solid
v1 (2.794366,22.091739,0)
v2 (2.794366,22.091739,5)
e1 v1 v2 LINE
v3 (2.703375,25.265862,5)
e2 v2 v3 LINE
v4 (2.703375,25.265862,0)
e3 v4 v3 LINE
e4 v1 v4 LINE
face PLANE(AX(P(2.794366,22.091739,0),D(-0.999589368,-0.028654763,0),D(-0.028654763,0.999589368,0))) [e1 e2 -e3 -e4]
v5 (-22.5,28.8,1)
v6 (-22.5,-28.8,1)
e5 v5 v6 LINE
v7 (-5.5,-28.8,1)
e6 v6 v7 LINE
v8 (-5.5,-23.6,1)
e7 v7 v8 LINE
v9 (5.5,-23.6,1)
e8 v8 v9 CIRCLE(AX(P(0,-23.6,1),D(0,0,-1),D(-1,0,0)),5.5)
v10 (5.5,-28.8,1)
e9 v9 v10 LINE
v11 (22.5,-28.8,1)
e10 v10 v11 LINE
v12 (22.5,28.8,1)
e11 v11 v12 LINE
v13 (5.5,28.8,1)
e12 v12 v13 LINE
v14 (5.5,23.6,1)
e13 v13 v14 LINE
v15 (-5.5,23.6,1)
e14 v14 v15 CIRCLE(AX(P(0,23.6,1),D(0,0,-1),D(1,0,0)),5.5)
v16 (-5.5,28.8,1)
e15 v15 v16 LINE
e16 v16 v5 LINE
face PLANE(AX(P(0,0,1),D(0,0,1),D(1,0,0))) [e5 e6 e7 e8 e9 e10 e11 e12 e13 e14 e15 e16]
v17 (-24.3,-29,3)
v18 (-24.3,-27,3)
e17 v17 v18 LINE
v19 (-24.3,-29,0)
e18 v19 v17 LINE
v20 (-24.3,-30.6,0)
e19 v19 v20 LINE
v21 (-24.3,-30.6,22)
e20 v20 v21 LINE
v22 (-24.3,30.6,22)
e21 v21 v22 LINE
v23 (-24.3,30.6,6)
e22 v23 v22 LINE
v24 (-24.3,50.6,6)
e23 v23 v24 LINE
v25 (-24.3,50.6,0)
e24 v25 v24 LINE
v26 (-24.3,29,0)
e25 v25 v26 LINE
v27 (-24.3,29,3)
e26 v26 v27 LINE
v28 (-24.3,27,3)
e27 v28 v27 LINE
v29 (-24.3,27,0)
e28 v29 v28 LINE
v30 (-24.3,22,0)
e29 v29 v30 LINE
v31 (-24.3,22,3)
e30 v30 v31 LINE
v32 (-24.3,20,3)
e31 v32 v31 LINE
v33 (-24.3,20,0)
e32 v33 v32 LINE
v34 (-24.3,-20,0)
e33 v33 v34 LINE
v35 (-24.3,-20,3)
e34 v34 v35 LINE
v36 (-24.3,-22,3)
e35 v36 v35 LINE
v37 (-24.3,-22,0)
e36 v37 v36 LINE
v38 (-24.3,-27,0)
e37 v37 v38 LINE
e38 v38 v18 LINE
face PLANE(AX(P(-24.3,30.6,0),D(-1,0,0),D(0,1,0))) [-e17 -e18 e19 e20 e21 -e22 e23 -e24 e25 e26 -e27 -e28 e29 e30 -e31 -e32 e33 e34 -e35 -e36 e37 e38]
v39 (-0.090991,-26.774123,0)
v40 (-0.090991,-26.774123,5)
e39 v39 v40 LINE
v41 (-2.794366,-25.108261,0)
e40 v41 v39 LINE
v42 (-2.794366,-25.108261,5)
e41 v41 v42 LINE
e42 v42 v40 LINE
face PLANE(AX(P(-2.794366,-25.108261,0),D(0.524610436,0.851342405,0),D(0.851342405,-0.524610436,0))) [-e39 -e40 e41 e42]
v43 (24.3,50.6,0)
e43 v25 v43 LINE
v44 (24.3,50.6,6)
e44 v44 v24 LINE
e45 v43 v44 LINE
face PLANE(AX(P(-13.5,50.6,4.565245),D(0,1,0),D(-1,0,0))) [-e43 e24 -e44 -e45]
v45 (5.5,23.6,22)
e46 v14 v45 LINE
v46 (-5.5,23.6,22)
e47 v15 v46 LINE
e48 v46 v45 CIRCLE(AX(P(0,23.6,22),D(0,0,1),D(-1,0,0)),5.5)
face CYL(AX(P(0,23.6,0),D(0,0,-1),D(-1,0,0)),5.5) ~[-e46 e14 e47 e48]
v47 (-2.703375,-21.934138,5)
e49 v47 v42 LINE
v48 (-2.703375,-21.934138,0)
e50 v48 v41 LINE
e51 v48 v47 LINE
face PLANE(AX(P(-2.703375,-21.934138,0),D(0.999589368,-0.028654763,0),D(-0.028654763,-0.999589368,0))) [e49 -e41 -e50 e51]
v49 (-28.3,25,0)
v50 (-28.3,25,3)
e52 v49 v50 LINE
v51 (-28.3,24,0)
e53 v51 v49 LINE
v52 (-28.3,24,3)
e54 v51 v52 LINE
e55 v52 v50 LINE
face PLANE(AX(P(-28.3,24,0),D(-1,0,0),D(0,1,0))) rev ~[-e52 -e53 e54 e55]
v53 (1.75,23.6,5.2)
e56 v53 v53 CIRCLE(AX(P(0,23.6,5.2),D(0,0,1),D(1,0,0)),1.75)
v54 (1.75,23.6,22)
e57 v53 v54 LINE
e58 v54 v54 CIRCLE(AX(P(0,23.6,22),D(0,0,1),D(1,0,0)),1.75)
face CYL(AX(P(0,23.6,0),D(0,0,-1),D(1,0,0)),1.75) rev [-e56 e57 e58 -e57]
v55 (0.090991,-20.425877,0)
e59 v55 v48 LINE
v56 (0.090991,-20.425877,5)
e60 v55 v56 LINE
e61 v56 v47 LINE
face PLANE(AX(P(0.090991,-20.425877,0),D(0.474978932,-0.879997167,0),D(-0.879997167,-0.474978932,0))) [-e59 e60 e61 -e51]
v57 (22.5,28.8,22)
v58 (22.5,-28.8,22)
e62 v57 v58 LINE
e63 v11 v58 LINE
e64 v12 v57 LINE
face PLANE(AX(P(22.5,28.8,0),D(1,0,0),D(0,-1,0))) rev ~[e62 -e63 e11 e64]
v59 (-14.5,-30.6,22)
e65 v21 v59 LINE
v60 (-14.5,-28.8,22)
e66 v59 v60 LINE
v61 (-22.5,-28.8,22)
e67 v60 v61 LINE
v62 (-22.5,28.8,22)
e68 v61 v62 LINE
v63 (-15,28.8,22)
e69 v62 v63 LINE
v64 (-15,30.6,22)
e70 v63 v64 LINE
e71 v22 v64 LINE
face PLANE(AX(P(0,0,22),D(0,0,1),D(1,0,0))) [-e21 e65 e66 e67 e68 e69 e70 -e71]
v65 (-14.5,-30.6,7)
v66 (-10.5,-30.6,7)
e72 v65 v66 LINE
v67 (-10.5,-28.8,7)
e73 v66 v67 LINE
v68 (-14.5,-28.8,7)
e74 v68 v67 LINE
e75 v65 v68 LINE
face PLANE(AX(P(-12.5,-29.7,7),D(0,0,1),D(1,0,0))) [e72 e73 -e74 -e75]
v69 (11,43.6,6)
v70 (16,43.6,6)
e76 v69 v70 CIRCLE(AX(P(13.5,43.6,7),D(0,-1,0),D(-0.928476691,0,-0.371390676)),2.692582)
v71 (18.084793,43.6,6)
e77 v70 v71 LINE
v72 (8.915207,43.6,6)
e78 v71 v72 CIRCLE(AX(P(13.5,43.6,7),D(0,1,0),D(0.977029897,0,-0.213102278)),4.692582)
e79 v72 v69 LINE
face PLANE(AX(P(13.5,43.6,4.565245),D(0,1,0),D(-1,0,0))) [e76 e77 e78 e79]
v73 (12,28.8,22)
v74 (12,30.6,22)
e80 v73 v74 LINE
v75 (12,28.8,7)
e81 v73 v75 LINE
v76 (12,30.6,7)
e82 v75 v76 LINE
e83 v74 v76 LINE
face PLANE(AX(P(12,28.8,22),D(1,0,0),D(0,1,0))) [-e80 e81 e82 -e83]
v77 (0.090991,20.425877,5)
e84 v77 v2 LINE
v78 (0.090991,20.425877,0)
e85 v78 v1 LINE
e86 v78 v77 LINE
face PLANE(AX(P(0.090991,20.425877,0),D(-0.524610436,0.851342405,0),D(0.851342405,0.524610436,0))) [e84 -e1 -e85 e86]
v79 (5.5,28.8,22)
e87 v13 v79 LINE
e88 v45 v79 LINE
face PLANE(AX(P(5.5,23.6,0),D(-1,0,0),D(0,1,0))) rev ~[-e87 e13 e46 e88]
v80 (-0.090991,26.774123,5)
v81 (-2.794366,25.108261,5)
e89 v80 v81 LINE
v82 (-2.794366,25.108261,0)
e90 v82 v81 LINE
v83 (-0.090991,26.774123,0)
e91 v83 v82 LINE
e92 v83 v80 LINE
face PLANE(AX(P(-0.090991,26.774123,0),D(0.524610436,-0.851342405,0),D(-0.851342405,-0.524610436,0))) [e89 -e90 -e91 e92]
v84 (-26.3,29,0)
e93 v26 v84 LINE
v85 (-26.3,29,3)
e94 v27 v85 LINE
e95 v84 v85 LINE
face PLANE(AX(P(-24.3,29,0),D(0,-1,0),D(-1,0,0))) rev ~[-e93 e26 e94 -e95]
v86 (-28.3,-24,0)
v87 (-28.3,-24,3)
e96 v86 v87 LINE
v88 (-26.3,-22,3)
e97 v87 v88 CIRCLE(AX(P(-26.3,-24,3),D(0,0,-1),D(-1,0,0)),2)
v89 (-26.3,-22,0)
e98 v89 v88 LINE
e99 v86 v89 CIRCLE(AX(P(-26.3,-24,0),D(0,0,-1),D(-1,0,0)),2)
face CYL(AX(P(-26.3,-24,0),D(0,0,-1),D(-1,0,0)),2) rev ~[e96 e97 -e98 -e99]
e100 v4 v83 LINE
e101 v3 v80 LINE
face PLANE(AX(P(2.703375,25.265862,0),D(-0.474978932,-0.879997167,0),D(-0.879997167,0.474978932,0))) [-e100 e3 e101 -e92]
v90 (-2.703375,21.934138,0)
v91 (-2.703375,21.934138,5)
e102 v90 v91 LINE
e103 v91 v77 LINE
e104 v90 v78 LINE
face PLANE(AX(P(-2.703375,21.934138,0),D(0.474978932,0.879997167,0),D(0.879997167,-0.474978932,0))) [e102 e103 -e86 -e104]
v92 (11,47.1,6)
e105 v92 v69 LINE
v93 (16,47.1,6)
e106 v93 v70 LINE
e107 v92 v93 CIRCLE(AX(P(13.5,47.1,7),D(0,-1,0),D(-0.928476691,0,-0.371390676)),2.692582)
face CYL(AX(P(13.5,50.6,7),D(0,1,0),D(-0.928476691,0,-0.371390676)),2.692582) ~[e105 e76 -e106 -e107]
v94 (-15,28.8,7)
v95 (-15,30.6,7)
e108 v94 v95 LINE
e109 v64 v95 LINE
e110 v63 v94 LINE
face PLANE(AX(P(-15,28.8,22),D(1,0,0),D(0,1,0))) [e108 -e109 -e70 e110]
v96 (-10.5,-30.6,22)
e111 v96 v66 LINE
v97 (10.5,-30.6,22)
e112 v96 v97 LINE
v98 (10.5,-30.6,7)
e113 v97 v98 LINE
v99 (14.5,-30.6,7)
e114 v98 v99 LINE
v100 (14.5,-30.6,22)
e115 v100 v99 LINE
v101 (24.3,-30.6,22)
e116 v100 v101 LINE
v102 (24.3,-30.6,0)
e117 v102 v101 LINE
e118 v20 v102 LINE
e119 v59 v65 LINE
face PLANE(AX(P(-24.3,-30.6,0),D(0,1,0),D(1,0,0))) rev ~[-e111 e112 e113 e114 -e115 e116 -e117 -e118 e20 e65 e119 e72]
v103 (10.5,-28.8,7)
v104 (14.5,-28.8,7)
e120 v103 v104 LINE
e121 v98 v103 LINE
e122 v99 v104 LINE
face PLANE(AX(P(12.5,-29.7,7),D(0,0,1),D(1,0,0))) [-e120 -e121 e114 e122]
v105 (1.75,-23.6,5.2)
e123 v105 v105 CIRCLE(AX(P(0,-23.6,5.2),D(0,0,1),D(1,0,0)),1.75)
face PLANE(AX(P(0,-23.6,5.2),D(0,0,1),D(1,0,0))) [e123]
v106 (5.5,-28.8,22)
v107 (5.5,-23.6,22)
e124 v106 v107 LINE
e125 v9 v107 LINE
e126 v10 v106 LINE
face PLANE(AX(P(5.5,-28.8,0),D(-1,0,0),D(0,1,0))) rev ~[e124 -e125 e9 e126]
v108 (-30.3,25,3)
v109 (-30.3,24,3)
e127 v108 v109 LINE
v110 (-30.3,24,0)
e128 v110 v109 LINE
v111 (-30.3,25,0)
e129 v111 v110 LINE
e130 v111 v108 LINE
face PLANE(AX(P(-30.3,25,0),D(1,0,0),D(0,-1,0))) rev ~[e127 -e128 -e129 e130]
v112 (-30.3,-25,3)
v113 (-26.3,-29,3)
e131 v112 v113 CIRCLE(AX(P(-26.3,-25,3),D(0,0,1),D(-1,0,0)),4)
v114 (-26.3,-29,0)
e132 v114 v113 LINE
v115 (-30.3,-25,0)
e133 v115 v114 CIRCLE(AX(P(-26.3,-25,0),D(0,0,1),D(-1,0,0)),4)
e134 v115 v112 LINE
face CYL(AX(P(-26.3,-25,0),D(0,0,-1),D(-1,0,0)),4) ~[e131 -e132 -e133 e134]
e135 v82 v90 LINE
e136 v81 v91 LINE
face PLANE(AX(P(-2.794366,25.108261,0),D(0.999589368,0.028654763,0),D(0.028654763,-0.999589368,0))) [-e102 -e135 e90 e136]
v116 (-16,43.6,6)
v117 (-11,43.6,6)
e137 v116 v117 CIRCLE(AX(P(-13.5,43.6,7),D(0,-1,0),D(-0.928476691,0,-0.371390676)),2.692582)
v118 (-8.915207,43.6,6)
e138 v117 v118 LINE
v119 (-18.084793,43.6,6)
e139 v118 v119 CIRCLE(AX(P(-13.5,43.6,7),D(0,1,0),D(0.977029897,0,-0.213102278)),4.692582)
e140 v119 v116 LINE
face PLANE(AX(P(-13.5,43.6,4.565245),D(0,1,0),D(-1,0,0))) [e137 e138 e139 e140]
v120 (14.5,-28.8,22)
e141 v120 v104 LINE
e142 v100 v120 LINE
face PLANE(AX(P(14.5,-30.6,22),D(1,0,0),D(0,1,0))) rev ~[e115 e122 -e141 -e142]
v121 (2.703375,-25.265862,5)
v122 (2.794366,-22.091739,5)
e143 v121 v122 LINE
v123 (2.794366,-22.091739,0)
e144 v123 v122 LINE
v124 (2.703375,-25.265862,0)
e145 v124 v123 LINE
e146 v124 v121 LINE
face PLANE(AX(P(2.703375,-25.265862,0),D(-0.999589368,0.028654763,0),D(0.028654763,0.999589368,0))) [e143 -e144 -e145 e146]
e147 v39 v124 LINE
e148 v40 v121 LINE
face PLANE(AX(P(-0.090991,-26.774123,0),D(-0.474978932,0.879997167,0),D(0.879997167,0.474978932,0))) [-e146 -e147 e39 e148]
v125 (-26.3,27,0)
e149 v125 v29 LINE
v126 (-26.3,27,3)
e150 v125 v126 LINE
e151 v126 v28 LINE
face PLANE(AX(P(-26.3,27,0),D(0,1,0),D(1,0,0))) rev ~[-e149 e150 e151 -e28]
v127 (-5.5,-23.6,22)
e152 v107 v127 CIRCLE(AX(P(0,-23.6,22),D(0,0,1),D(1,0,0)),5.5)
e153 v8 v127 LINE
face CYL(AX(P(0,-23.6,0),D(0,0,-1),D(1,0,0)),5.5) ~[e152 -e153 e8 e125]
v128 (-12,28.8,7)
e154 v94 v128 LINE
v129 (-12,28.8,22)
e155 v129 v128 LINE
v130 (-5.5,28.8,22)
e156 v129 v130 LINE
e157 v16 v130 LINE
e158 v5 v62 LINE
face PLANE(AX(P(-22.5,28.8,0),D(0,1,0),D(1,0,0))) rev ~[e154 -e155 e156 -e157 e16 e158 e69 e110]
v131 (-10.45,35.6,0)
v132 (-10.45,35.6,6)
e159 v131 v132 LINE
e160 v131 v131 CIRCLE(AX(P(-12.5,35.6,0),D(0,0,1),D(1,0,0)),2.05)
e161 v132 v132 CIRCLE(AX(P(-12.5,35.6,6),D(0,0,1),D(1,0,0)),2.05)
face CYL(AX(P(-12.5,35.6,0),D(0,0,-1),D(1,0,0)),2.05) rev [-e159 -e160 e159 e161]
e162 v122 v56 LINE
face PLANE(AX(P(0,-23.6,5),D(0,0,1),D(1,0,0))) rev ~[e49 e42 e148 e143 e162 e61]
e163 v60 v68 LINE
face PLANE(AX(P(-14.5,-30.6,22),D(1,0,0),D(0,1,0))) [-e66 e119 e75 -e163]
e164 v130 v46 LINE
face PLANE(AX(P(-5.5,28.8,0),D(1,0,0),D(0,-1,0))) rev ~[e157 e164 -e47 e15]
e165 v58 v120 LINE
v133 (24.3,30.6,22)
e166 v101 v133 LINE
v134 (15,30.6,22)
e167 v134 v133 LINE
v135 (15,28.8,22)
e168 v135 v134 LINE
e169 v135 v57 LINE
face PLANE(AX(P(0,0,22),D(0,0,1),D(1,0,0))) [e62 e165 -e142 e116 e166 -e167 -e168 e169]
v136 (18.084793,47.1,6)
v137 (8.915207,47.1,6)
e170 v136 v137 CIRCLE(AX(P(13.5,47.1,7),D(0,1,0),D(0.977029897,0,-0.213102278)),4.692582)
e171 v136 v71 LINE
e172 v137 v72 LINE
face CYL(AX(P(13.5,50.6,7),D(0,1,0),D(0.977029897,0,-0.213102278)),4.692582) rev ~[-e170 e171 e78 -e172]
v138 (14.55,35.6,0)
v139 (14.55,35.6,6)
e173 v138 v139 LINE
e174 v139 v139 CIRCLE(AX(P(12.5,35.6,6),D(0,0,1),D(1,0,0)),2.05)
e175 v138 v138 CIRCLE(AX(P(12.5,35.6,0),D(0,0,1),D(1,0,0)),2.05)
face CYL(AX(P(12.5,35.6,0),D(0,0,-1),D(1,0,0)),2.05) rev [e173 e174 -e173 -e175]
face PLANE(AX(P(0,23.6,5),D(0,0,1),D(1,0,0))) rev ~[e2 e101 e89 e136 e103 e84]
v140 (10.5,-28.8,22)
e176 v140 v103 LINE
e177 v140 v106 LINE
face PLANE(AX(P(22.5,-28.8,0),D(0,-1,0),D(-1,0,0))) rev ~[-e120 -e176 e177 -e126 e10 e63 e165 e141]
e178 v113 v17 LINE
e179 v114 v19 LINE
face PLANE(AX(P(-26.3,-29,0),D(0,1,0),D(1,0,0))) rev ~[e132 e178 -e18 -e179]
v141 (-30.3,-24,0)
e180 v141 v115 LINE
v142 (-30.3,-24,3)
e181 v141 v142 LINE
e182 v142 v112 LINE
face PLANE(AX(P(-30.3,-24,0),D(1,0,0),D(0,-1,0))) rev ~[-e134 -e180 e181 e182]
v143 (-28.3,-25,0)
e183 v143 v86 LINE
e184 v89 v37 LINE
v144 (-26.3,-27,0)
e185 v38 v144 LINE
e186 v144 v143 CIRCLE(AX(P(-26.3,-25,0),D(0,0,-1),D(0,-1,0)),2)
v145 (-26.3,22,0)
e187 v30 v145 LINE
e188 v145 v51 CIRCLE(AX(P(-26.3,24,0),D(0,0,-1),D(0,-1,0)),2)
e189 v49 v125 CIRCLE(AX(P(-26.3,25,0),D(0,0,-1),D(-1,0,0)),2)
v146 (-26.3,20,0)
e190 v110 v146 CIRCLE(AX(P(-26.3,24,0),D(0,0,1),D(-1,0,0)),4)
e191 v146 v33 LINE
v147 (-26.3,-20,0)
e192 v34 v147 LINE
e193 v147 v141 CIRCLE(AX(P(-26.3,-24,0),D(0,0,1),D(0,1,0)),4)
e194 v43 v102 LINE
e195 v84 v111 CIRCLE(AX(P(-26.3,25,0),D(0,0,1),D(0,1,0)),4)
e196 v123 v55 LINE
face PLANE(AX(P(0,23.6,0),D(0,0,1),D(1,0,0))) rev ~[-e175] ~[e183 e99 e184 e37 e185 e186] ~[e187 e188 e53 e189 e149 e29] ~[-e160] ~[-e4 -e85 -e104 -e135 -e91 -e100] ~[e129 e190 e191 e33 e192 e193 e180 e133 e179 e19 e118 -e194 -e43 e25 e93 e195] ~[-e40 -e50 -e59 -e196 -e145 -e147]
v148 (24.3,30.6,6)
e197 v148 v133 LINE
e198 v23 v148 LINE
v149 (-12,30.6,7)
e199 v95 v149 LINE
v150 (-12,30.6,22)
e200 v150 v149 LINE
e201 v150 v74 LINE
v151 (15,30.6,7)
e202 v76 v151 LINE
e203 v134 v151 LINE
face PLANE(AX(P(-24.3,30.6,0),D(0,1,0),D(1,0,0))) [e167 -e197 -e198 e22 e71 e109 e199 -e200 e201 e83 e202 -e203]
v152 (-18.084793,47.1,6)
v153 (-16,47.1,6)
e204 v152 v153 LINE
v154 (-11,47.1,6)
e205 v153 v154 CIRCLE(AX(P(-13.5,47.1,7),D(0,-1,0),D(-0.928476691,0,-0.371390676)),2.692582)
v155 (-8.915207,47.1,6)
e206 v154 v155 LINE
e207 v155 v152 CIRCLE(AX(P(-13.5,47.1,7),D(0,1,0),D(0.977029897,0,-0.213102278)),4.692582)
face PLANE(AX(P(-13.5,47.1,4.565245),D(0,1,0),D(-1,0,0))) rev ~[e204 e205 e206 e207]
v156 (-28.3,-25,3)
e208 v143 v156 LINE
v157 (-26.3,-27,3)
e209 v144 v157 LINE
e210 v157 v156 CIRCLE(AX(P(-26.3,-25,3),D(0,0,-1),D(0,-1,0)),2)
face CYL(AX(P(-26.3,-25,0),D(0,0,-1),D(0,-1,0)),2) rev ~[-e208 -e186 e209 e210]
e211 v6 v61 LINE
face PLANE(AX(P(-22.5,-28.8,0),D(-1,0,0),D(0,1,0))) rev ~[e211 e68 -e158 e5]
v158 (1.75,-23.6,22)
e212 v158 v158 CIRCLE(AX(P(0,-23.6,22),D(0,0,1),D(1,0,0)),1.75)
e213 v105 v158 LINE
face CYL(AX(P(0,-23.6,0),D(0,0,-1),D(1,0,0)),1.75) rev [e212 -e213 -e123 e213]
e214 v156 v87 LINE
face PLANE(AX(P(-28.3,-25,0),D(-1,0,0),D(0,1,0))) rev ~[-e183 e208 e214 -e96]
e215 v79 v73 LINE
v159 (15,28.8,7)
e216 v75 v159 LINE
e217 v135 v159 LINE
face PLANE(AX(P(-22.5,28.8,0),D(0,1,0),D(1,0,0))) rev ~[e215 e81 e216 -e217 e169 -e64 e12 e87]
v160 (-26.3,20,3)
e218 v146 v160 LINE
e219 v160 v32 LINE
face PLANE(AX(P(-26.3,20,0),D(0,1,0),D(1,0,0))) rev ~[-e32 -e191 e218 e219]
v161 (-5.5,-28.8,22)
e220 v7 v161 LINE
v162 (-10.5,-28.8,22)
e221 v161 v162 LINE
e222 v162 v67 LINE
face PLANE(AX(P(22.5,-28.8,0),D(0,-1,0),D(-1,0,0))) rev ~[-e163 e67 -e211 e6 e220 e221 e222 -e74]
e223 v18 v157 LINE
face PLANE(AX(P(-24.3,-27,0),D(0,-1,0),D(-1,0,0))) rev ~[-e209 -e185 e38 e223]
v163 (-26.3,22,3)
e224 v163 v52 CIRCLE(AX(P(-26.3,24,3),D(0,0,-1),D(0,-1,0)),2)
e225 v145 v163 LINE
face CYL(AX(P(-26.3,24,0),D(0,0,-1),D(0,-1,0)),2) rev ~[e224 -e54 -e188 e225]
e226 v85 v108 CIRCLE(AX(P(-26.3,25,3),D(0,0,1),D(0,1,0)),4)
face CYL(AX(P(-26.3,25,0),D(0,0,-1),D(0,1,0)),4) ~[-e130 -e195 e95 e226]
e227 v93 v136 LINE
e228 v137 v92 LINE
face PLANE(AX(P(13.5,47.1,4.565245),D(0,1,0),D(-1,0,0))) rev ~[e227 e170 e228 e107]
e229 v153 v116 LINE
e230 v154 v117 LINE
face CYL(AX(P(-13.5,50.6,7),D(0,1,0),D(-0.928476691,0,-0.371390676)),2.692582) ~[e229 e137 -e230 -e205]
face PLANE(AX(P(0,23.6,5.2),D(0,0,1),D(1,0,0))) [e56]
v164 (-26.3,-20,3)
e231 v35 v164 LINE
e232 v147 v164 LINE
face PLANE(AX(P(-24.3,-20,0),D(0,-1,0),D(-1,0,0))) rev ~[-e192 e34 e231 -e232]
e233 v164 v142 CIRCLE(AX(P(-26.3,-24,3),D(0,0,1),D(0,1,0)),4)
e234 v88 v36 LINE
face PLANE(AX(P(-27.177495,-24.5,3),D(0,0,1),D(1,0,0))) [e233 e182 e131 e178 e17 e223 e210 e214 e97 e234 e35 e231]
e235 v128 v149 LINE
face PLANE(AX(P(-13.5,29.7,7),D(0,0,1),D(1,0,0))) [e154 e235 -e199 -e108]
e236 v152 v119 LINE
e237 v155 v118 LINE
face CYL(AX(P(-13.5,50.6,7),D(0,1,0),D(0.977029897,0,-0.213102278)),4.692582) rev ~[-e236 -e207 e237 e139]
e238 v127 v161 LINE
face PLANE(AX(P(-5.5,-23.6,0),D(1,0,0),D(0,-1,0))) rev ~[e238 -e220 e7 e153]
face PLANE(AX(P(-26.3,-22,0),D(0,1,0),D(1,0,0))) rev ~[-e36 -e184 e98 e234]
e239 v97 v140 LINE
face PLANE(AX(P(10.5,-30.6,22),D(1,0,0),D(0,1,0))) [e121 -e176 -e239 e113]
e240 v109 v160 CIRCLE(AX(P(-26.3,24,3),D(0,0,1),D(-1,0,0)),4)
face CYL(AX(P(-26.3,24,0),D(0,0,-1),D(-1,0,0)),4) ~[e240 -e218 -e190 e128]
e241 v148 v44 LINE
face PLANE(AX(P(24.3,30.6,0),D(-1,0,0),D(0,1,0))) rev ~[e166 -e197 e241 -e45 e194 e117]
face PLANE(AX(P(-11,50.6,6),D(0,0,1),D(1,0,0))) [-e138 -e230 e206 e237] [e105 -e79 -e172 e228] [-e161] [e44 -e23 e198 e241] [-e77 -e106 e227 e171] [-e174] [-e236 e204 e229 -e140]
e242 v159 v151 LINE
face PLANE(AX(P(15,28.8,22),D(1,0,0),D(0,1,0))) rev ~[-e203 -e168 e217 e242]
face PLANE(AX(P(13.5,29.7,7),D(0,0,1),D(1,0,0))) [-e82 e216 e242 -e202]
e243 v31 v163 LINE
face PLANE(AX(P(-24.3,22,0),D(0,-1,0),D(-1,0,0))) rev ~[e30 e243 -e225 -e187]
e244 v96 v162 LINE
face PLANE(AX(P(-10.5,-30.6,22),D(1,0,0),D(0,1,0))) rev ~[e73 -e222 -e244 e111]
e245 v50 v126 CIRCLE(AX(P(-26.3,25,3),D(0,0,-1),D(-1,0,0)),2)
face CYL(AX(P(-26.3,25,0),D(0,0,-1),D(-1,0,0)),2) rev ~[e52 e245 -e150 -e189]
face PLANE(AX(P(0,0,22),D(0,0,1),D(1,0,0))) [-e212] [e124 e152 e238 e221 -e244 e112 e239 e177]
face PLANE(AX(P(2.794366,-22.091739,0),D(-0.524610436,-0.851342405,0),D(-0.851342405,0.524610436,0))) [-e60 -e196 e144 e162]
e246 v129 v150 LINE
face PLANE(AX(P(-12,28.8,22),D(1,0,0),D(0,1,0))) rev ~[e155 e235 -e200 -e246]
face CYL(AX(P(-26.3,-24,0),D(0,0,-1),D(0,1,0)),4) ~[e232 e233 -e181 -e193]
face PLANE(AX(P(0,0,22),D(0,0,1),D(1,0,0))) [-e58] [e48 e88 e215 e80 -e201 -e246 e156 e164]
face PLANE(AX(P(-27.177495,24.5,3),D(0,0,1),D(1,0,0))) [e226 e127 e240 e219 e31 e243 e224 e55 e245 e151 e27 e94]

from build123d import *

# Parameters (mm, degrees)
F0_W      = 48.6
F0_H      = 61.2
F1_DEPTH  = 22
F0_R      = 1.75
F2_DEPTH  = 22
F3_DEPTH  = 1
F0_H_2    = 20
F0_R_2    = 2.05
F4_DEPTH  = 6
F5_W      = 3
F5_H      = 1.8
F5_W_2    = 4
F6_DEPTH  = 15
F8_DEPTH  = 7
F9_DEPTH  = 3.5
F11_DEPTH = 5.2
F12_DEPTH = 5
F14_DEPTH = 3


with BuildPart() as f1:
    # F0 (on Top) → F1 (new body)
    with BuildSketch(Plane.XY):
        Rectangle(F0_W, F0_H)
        Polygon((22.5, 28.8), (22.5, -28.8), (5.5, -28.8), (-5.5, -28.8), (-22.5, -28.8), (-22.5, 28.8), (-5.5, 28.8), (5.5, 28.8), align=None, mode=Mode.SUBTRACT)
    extrude(amount=F1_DEPTH)

    # F0 (on Top) → F2 (join)
    with BuildSketch(Plane.XY):
        with BuildLine():
            Line((-5.5, -28.8), (5.5, -28.8))
            Line((5.5, -28.8), (5.5, -23.6))
            ThreePointArc((5.5, -23.6), (0, -18.1), (-5.5, -23.6))
            Line((-5.5, -23.6), (-5.5, -28.8))
        make_face()
        with Locations((0, -23.6)):
            Circle(F0_R, mode=Mode.SUBTRACT)
        with BuildLine():
            Line((5.5, 23.6), (5.5, 28.8))
            Line((5.5, 28.8), (-5.5, 28.8))
            Line((-5.5, 28.8), (-5.5, 23.6))
            ThreePointArc((-5.5, 23.6), (0, 18.1), (5.5, 23.6))
        make_face()
        with Locations((0, 23.6)):
            Circle(F0_R, mode=Mode.SUBTRACT)
    extrude(amount=F2_DEPTH)

    # F0 (on Top) → F3 (join)
    with BuildSketch(Plane.XY):
        with BuildLine():
            Line((5.5, -28.8), (22.5, -28.8))
            Line((22.5, -28.8), (22.5, 28.8))
            Line((22.5, 28.8), (5.5, 28.8))
            Line((5.5, 28.8), (5.5, 23.6))
            ThreePointArc((5.5, 23.6), (0, 18.1), (-5.5, 23.6))
            Line((-5.5, 23.6), (-5.5, 28.8))
            Line((-5.5, 28.8), (-22.5, 28.8))
            Line((-22.5, 28.8), (-22.5, -28.8))
            Line((-22.5, -28.8), (-5.5, -28.8))
            Line((-5.5, -28.8), (-5.5, -23.6))
            ThreePointArc((-5.5, -23.6), (0, -18.1), (5.5, -23.6))
            Line((5.5, -23.6), (5.5, -28.8))
        make_face()
    extrude(amount=F3_DEPTH)

    # F0 (on Top) → F4 (join)
    with BuildSketch(Plane.XY):
        with Locations((0, 40.6)):
            Rectangle(F0_W, F0_H_2)
        with Locations((-12.5, 35.6)):
            Circle(F0_R_2, mode=Mode.SUBTRACT)
        with Locations((12.5, 35.6)):
            Circle(F0_R_2, mode=Mode.SUBTRACT)
    extrude(amount=F4_DEPTH)

    # F5 (on face) → F6 (cut)
    with BuildSketch(Plane.XY.offset(22)):
        with Locations((-13.5, 29.7)):
            Rectangle(F5_W, F5_H)
        with Locations((13.5, 29.7)):
            Rectangle(F5_W, F5_H)
        with Locations((-12.5, -29.7)):
            Rectangle(F5_W_2, F5_H)
        with Locations((12.5, -29.7)):
            Rectangle(F5_W_2, F5_H)
    extrude(amount=-F6_DEPTH, mode=Mode.SUBTRACT)

    # F7 (on face) → F8 (cut)
    with BuildSketch(Plane(origin=(0, 50.6, 0), x_dir=(-1, 0, 0), z_dir=(0, 1, 0))):
        with BuildLine():
            Line((11, 6), (8.9152066989, 6))
            ThreePointArc((8.9152066989, 6), (13.5, 2.3074175964), (18.0847933011, 6))
            Line((18.0847933011, 6), (16, 6))
            ThreePointArc((16, 6), (13.5, 4.3074175964), (11, 6))
        make_face()
        with BuildLine():
            Line((-16, 6), (-18.0847933011, 6))
            ThreePointArc((-18.0847933011, 6), (-13.5, 2.3074175964), (-8.9152066989, 6))
            Line((-8.9152066989, 6), (-11, 6))
            ThreePointArc((-11, 6), (-13.5, 4.3074175964), (-16, 6))
        make_face()
    extrude(amount=-F8_DEPTH, mode=Mode.SUBTRACT)

    # F7 (on face) → F9 (join)
    with BuildSketch(Plane(origin=(0, 50.6, 0), x_dir=(-1, 0, 0), z_dir=(0, 1, 0))):
        with BuildLine():
            Line((11, 6), (8.9152066989, 6))
            ThreePointArc((8.9152066989, 6), (13.5, 2.3074175964), (18.0847933011, 6))
            Line((18.0847933011, 6), (16, 6))
            ThreePointArc((16, 6), (13.5, 4.3074175964), (11, 6))
        make_face()
        with BuildLine():
            Line((-16, 6), (-18.0847933011, 6))
            ThreePointArc((-18.0847933011, 6), (-13.5, 2.3074175964), (-8.9152066989, 6))
            Line((-8.9152066989, 6), (-11, 6))
            ThreePointArc((-11, 6), (-13.5, 4.3074175964), (-16, 6))
        make_face()
    extrude(amount=-F9_DEPTH)

    # F0 (on Top) → F11 (join)
    with BuildSketch(Plane.XY):
        with Locations((0, 23.6)):
            Circle(F0_R)
        with Locations((0, -23.6)):
            Circle(F0_R)
    extrude(amount=F11_DEPTH)

    # F10 (on face) → F12 (cut)
    with BuildSketch(Plane.XY):
        Polygon((-2.7033752158, 21.9341381282), (0.0909910922, 20.4258774513), (2.7943663081, 22.091739323), (2.7033752158, 25.2658618718), (-0.0909910922, 26.7741225487), (-2.7943663081, 25.108260677), align=None)
        Polygon((2.7033752158, -25.2658618718), (2.7943663081, -22.091739323), (0.0909910922, -20.4258774513), (-2.7033752158, -21.9341381282), (-2.7943663081, -25.108260677), (-0.0909910922, -26.7741225487), align=None)
    extrude(amount=F12_DEPTH, mode=Mode.SUBTRACT)

    # F13 (on face) → F14 (join)
    with BuildSketch(Plane.XY):
        with BuildLine():
            Line((-26.3, -29), (-24.3, -29))
            Line((-24.3, -29), (-24.3, -27))
            Line((-24.3, -27), (-26.3, -27))
            ThreePointArc((-26.3, -27), (-27.7142135624, -26.4142135624), (-28.3, -25))
            Line((-28.3, -25), (-28.3, -24))
            ThreePointArc((-28.3, -24), (-27.7142135624, -22.5857864376), (-26.3, -22))
            Line((-26.3, -22), (-24.3, -22))
            Line((-24.3, -22), (-24.3, -20))
            Line((-24.3, -20), (-26.3, -20))
            ThreePointArc((-26.3, -20), (-29.1284271247, -21.1715728753), (-30.3, -24))
            Line((-30.3, -24), (-30.3, -25))
            ThreePointArc((-30.3, -25), (-29.1284271247, -27.8284271247), (-26.3, -29))
        make_face()
        with BuildLine():
            Line((-26.3, 20), (-24.3, 20))
            Line((-24.3, 20), (-24.3, 22))
            Line((-24.3, 22), (-26.3, 22))
            ThreePointArc((-26.3, 22), (-27.7142135624, 22.5857864376), (-28.3, 24))
            Line((-28.3, 24), (-28.3, 25))
            ThreePointArc((-28.3, 25), (-27.7142135624, 26.4142135624), (-26.3, 27))
            Line((-26.3, 27), (-24.3, 27))
            Line((-24.3, 27), (-24.3, 29))
            Line((-24.3, 29), (-26.3, 29))
            ThreePointArc((-26.3, 29), (-29.1284271247, 27.8284271247), (-30.3, 25))
            Line((-30.3, 25), (-30.3, 24))
            ThreePointArc((-30.3, 24), (-29.1284271247, 21.1715728753), (-26.3, 20))
        make_face()
    extrude(amount=F14_DEPTH)


solid = f1.part
